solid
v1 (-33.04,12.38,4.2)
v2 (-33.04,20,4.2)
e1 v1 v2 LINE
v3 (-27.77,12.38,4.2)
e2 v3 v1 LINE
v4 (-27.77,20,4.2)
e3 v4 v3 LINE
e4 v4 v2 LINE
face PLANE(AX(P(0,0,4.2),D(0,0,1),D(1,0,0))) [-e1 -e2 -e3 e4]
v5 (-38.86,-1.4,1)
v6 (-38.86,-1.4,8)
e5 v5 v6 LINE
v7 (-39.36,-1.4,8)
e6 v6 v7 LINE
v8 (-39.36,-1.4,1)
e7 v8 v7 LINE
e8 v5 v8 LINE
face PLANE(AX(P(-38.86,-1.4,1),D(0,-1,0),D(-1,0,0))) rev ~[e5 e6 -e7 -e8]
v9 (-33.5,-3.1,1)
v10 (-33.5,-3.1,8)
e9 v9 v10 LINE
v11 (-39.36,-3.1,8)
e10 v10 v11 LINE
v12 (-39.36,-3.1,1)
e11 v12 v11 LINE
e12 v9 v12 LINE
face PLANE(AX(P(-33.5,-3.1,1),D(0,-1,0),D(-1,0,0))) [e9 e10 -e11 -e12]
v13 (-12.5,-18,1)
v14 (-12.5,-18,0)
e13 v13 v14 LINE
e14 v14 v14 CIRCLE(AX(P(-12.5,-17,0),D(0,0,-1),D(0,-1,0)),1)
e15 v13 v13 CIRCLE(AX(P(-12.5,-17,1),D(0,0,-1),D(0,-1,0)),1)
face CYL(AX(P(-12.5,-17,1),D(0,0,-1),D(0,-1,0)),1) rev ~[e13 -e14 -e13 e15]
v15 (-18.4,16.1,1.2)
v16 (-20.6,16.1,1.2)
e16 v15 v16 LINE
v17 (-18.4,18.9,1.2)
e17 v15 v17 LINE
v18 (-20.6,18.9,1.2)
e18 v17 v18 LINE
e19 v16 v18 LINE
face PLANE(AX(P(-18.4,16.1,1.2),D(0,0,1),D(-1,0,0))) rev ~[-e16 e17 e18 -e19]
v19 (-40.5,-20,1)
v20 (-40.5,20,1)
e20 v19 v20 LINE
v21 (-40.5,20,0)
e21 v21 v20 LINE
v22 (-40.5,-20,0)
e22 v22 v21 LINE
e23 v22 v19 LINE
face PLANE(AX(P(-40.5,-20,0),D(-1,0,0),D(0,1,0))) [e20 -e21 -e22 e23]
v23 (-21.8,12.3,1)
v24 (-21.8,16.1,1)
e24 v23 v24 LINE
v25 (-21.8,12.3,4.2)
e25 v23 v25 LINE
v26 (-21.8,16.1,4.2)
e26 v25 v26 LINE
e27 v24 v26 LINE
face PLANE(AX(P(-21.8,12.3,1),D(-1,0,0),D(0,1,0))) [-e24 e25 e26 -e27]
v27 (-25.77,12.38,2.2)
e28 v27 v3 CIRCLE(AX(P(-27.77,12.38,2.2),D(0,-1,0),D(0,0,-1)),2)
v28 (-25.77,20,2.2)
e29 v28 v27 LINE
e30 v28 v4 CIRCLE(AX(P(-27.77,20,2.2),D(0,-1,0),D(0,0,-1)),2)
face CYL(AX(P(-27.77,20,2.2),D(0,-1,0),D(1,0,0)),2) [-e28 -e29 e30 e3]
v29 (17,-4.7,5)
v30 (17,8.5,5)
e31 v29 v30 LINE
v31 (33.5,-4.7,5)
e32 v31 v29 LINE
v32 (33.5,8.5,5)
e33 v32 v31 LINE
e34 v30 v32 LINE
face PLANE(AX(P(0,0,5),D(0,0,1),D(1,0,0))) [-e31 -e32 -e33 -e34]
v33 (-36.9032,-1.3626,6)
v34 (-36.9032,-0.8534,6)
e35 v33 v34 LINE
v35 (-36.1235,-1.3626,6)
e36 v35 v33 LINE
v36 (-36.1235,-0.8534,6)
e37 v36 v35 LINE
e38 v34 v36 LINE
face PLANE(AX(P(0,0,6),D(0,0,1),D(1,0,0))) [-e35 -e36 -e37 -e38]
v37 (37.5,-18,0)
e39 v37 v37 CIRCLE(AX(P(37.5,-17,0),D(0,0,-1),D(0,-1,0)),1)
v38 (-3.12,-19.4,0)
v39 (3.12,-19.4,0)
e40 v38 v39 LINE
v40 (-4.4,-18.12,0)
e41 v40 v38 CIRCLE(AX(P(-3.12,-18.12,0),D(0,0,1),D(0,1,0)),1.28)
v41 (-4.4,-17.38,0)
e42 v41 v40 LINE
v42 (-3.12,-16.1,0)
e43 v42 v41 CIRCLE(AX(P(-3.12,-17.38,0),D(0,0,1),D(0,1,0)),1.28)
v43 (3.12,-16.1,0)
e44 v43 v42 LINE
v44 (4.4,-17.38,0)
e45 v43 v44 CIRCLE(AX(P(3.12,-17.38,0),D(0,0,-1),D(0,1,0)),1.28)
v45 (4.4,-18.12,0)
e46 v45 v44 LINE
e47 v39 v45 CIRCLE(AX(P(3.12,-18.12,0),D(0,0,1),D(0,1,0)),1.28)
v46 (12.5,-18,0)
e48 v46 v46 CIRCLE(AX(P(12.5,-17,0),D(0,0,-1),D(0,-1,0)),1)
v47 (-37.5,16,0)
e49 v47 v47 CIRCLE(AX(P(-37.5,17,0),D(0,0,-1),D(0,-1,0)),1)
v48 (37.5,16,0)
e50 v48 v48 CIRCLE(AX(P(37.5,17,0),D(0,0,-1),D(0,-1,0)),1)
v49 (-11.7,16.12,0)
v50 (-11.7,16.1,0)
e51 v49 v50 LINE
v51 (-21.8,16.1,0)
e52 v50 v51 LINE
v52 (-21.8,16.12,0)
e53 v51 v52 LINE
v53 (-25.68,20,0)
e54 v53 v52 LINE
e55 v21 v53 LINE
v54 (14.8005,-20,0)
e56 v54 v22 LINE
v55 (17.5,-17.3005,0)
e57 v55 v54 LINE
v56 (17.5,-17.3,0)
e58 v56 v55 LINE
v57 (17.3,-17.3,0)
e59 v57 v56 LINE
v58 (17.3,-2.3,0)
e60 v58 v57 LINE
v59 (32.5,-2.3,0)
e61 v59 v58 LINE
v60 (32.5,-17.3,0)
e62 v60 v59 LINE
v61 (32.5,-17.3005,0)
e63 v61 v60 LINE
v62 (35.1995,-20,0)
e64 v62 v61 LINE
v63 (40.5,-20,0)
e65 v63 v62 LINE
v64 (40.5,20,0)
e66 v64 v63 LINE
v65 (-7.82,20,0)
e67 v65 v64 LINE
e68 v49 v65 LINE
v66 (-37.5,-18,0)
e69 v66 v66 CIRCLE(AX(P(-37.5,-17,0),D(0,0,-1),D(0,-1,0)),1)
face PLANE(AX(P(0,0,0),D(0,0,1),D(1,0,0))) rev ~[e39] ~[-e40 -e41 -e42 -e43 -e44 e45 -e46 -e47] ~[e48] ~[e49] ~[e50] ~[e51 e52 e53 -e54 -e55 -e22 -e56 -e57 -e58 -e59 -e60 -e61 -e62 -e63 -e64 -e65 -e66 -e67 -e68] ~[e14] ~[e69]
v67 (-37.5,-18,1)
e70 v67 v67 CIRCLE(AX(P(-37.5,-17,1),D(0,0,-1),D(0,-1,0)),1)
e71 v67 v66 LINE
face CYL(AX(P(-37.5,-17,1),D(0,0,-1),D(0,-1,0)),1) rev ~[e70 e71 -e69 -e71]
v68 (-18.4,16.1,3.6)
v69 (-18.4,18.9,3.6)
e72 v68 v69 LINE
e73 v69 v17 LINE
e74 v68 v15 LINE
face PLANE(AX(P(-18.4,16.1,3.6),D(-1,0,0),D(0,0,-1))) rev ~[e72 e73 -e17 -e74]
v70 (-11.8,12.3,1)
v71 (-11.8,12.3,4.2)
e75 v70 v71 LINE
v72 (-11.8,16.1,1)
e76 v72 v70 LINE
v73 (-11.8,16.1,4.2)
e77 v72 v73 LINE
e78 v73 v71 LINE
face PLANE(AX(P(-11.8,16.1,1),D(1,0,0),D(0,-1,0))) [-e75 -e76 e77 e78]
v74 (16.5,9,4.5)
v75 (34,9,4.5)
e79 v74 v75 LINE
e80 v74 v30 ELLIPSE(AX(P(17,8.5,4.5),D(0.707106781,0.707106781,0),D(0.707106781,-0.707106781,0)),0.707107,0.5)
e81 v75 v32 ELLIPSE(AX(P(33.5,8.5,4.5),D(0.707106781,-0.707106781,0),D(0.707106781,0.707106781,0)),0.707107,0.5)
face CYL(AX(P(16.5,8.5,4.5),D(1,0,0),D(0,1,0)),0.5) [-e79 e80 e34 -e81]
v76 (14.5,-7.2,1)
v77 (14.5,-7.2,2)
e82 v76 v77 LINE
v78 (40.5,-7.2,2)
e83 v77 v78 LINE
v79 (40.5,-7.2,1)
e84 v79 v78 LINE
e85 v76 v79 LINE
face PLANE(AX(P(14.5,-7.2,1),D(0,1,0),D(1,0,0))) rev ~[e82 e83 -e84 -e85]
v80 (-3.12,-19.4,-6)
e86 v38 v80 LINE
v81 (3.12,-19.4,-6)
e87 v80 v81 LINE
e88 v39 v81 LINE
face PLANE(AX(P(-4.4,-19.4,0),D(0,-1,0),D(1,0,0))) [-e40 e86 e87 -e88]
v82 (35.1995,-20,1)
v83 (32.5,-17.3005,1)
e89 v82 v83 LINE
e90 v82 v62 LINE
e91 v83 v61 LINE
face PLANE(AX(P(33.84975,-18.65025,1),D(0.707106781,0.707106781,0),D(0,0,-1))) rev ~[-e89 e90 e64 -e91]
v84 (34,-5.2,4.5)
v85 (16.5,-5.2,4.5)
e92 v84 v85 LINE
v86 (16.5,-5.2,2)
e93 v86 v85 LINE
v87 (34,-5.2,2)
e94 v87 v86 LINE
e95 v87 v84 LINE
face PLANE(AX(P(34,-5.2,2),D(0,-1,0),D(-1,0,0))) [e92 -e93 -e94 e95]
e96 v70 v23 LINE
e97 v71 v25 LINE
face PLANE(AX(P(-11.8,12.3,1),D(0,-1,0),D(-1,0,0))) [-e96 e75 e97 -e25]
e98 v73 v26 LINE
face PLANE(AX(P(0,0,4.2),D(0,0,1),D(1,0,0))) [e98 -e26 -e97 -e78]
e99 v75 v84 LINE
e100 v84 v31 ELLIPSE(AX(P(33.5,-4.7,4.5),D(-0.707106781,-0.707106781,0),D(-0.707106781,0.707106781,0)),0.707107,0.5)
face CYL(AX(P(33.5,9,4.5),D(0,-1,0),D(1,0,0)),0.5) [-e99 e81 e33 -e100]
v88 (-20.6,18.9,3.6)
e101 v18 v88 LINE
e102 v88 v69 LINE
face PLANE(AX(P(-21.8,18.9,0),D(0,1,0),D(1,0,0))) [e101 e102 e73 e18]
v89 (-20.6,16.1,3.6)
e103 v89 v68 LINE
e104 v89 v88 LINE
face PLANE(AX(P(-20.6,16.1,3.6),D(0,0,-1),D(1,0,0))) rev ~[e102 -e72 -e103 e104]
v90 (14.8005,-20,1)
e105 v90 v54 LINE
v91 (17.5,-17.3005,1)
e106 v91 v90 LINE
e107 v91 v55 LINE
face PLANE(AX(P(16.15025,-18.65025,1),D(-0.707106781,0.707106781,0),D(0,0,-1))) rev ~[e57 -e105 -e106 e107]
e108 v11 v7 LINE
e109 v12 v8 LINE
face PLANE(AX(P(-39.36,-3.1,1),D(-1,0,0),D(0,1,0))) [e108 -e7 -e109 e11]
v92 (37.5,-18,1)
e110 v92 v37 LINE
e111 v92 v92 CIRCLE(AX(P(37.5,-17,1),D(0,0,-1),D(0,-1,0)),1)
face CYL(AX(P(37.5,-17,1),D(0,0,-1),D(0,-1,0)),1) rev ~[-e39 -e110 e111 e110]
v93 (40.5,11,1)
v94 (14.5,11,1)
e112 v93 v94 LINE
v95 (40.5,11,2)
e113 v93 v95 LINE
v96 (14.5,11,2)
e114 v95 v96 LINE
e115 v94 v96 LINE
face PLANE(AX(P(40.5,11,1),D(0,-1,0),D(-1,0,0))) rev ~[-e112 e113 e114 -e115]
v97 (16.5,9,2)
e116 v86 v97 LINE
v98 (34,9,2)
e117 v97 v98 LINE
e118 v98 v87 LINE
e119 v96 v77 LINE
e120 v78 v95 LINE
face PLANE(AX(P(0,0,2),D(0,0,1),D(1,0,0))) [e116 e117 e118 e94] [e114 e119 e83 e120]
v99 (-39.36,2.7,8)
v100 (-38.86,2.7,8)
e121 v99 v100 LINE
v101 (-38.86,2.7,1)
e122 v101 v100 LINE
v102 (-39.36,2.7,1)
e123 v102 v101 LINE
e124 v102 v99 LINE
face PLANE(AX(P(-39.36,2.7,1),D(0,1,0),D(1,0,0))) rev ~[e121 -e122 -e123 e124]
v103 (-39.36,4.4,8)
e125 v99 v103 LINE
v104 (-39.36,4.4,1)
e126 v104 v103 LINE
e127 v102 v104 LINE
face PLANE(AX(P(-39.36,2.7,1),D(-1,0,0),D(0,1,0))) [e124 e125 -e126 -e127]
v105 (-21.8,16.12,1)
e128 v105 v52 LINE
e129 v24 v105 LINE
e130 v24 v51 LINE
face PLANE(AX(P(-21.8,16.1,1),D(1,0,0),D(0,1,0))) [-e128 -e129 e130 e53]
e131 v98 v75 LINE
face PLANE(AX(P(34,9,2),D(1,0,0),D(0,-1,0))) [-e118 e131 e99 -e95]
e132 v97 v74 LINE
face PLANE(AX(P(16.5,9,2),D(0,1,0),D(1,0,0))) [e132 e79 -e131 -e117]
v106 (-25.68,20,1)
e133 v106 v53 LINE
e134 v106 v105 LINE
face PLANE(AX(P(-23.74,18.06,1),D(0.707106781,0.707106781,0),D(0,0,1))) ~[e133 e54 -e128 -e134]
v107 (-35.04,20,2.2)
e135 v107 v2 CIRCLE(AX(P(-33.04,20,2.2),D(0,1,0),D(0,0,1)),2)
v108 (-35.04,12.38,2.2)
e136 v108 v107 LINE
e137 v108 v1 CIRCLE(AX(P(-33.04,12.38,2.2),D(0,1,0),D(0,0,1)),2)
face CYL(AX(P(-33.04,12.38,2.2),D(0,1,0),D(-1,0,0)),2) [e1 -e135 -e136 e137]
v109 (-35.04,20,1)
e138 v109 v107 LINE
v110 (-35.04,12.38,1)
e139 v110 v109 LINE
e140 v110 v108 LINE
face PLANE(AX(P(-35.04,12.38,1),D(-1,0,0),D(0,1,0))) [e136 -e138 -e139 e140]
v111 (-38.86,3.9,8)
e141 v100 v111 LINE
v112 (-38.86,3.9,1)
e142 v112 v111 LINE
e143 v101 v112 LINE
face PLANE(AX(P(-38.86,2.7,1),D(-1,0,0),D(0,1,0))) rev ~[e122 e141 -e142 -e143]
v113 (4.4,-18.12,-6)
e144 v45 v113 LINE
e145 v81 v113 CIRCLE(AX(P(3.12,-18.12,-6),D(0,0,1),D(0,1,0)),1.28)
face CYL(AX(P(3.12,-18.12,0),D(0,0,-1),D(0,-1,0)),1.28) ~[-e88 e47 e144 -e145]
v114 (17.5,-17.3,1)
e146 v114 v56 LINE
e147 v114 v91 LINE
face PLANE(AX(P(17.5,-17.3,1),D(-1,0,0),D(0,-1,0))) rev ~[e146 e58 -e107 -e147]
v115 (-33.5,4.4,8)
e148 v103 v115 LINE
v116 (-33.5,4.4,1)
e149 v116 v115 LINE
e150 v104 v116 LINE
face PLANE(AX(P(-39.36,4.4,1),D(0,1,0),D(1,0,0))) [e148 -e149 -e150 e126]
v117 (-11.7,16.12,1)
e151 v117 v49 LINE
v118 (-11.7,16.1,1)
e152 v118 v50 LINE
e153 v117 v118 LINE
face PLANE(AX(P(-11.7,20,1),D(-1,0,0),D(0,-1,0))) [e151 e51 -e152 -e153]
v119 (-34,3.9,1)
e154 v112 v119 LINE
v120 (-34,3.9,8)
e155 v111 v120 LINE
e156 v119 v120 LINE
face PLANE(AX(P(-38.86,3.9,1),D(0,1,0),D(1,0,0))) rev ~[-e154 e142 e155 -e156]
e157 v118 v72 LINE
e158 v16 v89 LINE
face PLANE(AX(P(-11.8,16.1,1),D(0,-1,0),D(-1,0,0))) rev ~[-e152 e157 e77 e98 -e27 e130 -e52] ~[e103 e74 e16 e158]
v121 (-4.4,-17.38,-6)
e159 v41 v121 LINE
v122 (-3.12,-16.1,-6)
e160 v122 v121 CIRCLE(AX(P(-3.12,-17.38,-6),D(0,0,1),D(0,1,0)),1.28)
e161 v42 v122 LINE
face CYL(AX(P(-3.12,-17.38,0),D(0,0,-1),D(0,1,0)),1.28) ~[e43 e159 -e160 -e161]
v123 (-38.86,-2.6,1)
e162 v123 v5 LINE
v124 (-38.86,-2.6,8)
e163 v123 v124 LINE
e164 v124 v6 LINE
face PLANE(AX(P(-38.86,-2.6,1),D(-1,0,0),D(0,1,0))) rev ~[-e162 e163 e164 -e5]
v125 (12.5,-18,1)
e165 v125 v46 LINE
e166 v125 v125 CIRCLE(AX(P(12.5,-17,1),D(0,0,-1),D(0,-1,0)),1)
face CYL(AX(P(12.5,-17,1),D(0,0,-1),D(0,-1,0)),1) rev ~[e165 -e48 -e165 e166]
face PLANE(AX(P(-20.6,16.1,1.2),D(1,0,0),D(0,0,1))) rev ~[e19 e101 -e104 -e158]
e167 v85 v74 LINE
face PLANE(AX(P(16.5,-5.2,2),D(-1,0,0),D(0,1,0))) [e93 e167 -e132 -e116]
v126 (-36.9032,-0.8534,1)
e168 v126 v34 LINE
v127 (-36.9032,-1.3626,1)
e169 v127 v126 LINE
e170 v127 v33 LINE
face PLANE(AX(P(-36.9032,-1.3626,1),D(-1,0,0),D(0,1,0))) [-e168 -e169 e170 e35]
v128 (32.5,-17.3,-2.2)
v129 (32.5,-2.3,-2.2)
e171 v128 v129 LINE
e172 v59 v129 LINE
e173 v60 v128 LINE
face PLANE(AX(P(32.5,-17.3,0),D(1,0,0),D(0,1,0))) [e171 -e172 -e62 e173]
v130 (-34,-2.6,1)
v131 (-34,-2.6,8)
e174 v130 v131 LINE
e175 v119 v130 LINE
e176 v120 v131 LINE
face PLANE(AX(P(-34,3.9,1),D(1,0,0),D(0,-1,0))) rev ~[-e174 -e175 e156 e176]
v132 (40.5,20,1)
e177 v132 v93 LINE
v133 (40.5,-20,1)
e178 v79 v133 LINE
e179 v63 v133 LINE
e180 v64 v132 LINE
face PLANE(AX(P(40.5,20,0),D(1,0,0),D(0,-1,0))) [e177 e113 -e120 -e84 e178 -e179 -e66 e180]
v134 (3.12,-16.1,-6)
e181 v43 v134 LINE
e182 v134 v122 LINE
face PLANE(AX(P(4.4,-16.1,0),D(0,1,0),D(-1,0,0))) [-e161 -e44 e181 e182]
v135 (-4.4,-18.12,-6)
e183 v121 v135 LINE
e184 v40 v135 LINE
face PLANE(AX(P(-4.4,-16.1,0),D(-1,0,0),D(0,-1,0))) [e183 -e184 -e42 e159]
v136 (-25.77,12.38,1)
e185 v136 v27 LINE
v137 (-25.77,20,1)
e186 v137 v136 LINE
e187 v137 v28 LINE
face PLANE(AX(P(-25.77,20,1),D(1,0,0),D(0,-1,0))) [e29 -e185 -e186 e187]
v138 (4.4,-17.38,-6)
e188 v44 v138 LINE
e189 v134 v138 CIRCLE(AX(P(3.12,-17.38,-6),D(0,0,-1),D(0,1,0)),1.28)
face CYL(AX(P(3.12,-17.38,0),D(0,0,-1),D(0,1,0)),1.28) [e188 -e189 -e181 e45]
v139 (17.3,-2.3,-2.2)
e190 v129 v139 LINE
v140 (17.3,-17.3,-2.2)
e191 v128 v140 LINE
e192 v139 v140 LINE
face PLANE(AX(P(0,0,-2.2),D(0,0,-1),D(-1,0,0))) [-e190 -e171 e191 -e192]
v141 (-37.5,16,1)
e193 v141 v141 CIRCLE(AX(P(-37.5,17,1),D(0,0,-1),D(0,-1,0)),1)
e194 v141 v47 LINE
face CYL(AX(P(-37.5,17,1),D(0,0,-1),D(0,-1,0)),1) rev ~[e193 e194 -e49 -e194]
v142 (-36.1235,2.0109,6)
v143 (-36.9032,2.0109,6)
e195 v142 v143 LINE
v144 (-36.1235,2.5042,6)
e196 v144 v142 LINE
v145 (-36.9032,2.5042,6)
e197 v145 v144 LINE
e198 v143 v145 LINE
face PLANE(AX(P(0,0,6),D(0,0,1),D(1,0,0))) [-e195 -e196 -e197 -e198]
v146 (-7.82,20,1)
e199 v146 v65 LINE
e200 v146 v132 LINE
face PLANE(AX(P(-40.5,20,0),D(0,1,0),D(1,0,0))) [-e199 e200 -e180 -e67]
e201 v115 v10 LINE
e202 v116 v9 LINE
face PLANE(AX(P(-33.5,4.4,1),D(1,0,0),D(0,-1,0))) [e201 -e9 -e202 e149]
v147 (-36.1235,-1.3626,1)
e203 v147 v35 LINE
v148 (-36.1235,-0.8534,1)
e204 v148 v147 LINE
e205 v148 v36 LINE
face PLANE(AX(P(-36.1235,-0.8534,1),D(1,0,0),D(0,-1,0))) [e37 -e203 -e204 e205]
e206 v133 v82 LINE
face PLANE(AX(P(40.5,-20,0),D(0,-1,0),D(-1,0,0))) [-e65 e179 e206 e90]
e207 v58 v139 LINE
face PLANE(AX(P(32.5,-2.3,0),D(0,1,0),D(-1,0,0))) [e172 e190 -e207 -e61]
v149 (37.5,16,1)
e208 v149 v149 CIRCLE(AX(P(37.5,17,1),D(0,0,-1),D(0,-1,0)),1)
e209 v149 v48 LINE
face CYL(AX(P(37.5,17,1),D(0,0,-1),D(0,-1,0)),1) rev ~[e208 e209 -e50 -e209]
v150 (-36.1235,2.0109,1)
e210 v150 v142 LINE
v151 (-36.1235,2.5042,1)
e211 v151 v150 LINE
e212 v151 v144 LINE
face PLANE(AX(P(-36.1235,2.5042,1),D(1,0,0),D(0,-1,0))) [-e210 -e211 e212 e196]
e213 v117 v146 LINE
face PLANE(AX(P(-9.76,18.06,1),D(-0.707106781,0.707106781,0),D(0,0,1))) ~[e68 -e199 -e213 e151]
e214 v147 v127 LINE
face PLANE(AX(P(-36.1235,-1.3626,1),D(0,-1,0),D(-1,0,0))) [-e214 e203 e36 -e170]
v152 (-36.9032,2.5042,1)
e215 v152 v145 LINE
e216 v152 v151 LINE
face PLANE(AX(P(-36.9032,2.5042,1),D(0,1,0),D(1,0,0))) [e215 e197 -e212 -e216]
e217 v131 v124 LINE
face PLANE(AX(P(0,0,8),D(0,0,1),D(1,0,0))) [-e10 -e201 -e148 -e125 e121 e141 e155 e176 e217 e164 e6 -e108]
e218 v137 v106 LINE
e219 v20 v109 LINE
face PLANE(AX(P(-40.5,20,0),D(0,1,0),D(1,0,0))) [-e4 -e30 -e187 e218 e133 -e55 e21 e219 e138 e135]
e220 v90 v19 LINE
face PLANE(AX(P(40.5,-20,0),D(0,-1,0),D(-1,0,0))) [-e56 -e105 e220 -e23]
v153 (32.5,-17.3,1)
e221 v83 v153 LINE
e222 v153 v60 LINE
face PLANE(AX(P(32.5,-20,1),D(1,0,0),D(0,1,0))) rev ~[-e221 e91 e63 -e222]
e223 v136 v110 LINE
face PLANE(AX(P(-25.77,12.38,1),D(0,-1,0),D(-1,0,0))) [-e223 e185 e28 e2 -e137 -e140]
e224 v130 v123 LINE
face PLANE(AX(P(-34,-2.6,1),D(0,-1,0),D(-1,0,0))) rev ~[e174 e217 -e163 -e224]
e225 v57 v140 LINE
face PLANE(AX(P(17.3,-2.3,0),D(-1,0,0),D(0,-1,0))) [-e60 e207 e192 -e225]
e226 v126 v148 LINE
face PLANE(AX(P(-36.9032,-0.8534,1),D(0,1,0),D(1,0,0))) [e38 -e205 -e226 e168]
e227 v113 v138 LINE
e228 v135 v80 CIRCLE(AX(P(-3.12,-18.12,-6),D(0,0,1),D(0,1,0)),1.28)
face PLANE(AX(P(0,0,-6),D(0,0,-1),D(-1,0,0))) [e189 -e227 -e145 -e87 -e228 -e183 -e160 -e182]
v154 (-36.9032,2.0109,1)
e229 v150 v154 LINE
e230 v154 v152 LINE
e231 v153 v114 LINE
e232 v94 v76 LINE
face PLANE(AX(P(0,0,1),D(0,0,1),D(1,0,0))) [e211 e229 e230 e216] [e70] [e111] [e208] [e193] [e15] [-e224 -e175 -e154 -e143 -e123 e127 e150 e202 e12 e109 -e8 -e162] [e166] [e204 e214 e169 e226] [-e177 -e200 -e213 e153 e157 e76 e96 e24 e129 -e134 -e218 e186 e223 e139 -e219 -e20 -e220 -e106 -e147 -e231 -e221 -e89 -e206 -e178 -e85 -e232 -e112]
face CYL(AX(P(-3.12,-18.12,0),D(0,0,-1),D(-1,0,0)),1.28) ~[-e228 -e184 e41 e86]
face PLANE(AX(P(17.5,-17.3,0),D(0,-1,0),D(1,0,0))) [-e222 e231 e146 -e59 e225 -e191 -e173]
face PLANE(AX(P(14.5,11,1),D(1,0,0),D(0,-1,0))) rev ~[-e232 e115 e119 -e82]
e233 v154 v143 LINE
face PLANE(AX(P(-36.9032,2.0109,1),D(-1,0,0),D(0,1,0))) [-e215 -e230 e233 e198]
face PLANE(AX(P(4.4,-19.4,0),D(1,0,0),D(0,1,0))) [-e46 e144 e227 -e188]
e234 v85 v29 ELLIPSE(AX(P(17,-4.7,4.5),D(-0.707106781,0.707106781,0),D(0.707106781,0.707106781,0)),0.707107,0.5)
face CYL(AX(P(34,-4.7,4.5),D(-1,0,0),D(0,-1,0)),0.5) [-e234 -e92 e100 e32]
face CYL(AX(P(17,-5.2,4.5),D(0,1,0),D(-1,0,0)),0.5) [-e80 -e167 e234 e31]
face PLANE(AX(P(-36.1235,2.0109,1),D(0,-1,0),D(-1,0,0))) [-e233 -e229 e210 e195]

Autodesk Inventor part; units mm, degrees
ref_plane "YZ Plane" through (0, 0, 0) normal (1, 0, 0) x (0, 1, 0)
ref_plane "XZ Plane" through (0, 0, 0) normal (0, 1, 0) x (-1, 0, 0)
ref_plane "XY Plane" through (0, 0, 0) normal (0, 0, 1) x (1, 0, 0)
sketch "Sketch1" plane through (0, 0, 0) normal (0, 0, 1) x (1, 0, 0)
  line L0 (-40.5, 20) -> (40.5, 20)
  line L1 (40.5, 20) -> (40.5, -20)
  line L2 (40.5, -20) -> (-40.5, -20)
  line L3 (-40.5, -20) -> (-40.5, 20)
  point P0 (0, 0)
  dimension "d0" = 81
  dimension "d1" = 40
  dimension "d2" = 20
  dimension "d3" = 40.5
extrude "Extrusion1" add sketch "Sketch1" along normal blind 1
sketch "Sketch2" plane through (0, 0, 1) normal (0, 0, 1) x (1, 0, 0)
  line L0 (40.5, 20) -> (-40.5, 20) projected
  line L1 (-21.8, 20) -> (-11.7, 20)
  line L2 (-11.7, 20) -> (-11.7, 16.1)
  line L3 (-11.7, 16.1) -> (-21.8, 16.1)
  line L4 (-21.8, 16.1) -> (-21.8, 20)
  line L5 (-40.5, 20) -> (-40.5, -20) projected
  point P0 (0, 0)
  dimension "d6" = 18.7
  dimension "d7" = 28.8
  dimension "d8" = 3.9
extrude "Extrusion2" cut sketch "Sketch2" against normal blind 1
chamfer "Chamfer1" distance 3.88 angle 45 2 edges at (-21.8, 20, 0.5) (-11.7, 20, 0.5)
sketch "Sketch3" plane through (0, 0, 1) normal (0, 0, 1) x (1, 0, 0)
  line L0 (-25.68, 20) -> (-40.5, 20) projected
  line L1 (-35.04, 20) -> (-25.77, 20)
  line L2 (-25.77, 20) -> (-25.77, 12.38)
  line L3 (-25.77, 12.38) -> (-35.04, 12.38)
  line L4 (-35.04, 12.38) -> (-35.04, 20)
  line L5 (-40.5, 20) -> (-40.5, -20) projected
  point P0 (0, 0)
  dimension "d14" = 5.46
  dimension "d15" = 14.73
  dimension "d16" = 7.62
extrude "Extrusion3" add sketch "Sketch3" along normal blind 3.2
fillet "Fillet1" radius 2 2 edges at (-35.04, 16.19, 4.2) (-25.77, 16.19, 4.2)
sketch "Sketch4" plane through (0, 0, 1) normal (0, 0, 1) x (1, 0, 0)
  line L0 (-11.7, 16.1) -> (-21.8, 16.1) projected
  line L1 (-21.8, 16.1) -> (-11.8, 16.1)
  line L2 (-11.8, 16.1) -> (-11.8, 12.3)
  line L3 (-11.8, 12.3) -> (-21.8, 12.3)
  line L4 (-21.8, 12.3) -> (-21.8, 16.1)
  point P0 (0, 0)
  dimension "d20" = 3.8
  dimension "d21" = 10
extrude "Extrusion4" add sketch "Sketch4" along normal blind 3.2
sketch "Sketch5" plane through (-21.8, 16.1, 0) normal (0, 1, 0) x (1, 0, 0)
  line L0 (1.2, -3.6) -> (3.4, -3.6)
  line L1 (3.4, -3.6) -> (3.4, -1.2)
  line L2 (3.4, -1.2) -> (1.2, -1.2)
  line L3 (1.2, -1.2) -> (1.2, -3.6)
  line L4 (10, -4.2) -> (0, -4.2) projected
  line L5 (0, -1) -> (0, -4.2) projected
  point P0 (21.8, 0)
  dimension "d24" = 0.6
  dimension "d25" = 1.2
  dimension "d26" = 2.4
  dimension "d27" = 2.2
extrude "Extrusion5" add sketch "Sketch5" along normal blind 2.8
sketch "Sketch6" plane through (0, 0, 1) normal (0, 0, 1) x (1, 0, 0)
  line L0 (-40.5, 20) -> (-40.5, -20) projected
  line L1 (-40.5, -20) -> (40.5, -20) projected
  point P0 (0, 0)
  point P1 (-37.5, -17)
  point P2 (-12.5, -17)
  point P3 (12.5, -17)
  point P4 (37.5, -17)
  dimension "d30" = 3
  dimension "d31" = 28
  dimension "d32" = 53
  dimension "d33" = 78
  dimension "d34" = 3
  dimension "d35" = 3
  dimension "d36" = 3
  dimension "d37" = 3
hole "Hole1" at (-37.5, -17, 1) at (-12.5, -17, 1) at (12.5, -17, 1) at (37.5, -17, 1) direction (0, 0, -1) diameter 2 depth 4 tip angle 118
sketch "Sketch7" plane through (0, 0, 1) normal (0, 0, 1) x (1, 0, 0)
  line L0 (-40.5, 20) -> (-40.5, -20) projected
  line L1 (-40.5, -20) -> (40.5, -20) projected
  point P0 (0, 0)
  point P1 (-37.5, 17)
  point P2 (37.5, 17)
  dimension "d45" = 3
  dimension "d46" = 37
  dimension "d47" = 78
  dimension "d48" = 37
hole "Hole2" at (-37.5, 17, 1) at (37.5, 17, 1) direction (0, 0, -1) diameter 2 depth 4 tip angle 118
sketch "Sketch8" plane through (0, 0, 1) normal (0, 0, 1) x (1, 0, 0)
  line L0 (-40.5, -20) -> (40.5, -20) projected
  line L1 (17.5, -20) -> (32.5, -20)
  line L2 (32.5, -20) -> (32.5, -17.3)
  line L3 (32.5, -17.3) -> (17.5, -17.3)
  line L4 (17.5, -17.3) -> (17.5, -20)
  line L5 (-40.5, 20) -> (-40.5, -20) projected
  point P0 (0, 0)
  dimension "d56" = 58
  dimension "d57" = 73
  dimension "d58" = 2.7
extrude "Extrusion6" cut sketch "Sketch8" against normal blind 2
chamfer "Chamfer2" distance 2.7 angle 45 2 edges at (17.5, -20, 0.5) (32.5, -20, 0.5)
sketch "Sketch9" plane through (0, 0, 1) normal (0, 0, 1) x (1, 0, 0)
  line L0 (-39.36, 4.4) -> (-33.5, 4.4)
  line L1 (-33.5, 4.4) -> (-33.5, -3.1)
  line L2 (-33.5, -3.1) -> (-39.36, -3.1)
  line L3 (-39.36, -3.1) -> (-39.36, 4.4)
  line L4 (-40.5, 20) -> (-40.5, -20) projected
  line L5 (-40.5, -20) -> (14.8, -20) projected
  line L6 (-38.86, 3.9) -> (-34, 3.9)
  line L7 (-34, 3.9) -> (-34, -2.6)
  line L8 (-34, -2.6) -> (-38.86, -2.6)
  line L9 (-38.86, -2.6) -> (-38.86, 3.9)
  line L10 (-39.36, 2.7) -> (-38.86, 2.7)
  line L11 (-38.86, 2.7) -> (-38.86, -1.4)
  line L12 (-38.86, -1.4) -> (-39.36, -1.4)
  line L13 (-39.36, -1.4) -> (-39.36, 2.7)
  point P0 (0, 0)
  dimension "d64" = 1.14
  dimension "d65" = 7
  dimension "d66" = 16.9
  dimension "d67" = 24.4
  dimension "d68" = 0.5
  dimension "d69" = 0.5
  dimension "d70" = 0.5
  dimension "d71" = 0.5
  dimension "d72" = 1.2
  dimension "d73" = 1.2
extrude "Extrusion7" add sketch "Sketch9" along normal blind 7 contours L0 L1 L2 L3 L12 L9 L8 L7 L6 L10
sketch "Sketch10" plane through (0, 0, 1) normal (0, 0, 1) x (1, 0, 0)
  line L0 (-36.9032, 2.5042) -> (-36.1235, 2.5042)
  line L1 (-36.1235, 2.5042) -> (-36.1235, 2.0109)
  line L2 (-36.1235, 2.0109) -> (-36.9032, 2.0109)
  line L3 (-36.9032, 2.0109) -> (-36.9032, 2.5042)
  line L4 (-36.9032, -0.8534) -> (-36.1235, -0.8534)
  line L5 (-36.1235, -0.8534) -> (-36.1235, -1.3626)
  line L6 (-36.1235, -1.3626) -> (-36.9032, -1.3626)
  line L7 (-36.9032, -1.3626) -> (-36.9032, -0.8534)
  point P0 (0, 0)
extrude "Extrusion8" add sketch "Sketch10" along normal blind 5
sketch "Sketch11" plane through (0, 0, 1) normal (0, 0, 1) x (1, 0, 0)
  line L0 (40.5, -20) -> (40.5, 20) projected
  line L1 (40.5, 11) -> (14.5, 11)
  line L2 (14.5, 11) -> (14.5, -7.2)
  line L3 (14.5, -7.2) -> (40.5, -7.2)
  line L4 (40.5, -7.2) -> (40.5, 11)
  line L5 (-40.5, 20) -> (-40.5, -20) projected
  line L6 (40.5, 20) -> (-7.82, 20) projected
  point P0 (0, 0)
  dimension "d78" = 55
  dimension "d79" = 9
  dimension "d80" = 18.2
extrude "Extrusion9" add sketch "Sketch11" along normal blind 1
sketch "Sketch12" plane through (0, 0, 2) normal (0, 0, 1) x (1, 0, 0)
  line L0 (16.5, 9) -> (34, 9)
  line L1 (34, 9) -> (34, -5.2)
  line L2 (34, -5.2) -> (16.5, -5.2)
  line L3 (16.5, -5.2) -> (16.5, 9)
  line L4 (40.5, 11) -> (14.5, 11) projected
  line L5 (14.5, -7.2) -> (40.5, -7.2) projected
  line L6 (14.5, 11) -> (14.5, -7.2) projected
  line L7 (40.5, -7.2) -> (40.5, 11) projected
  point P0 (0, 0)
  dimension "d83" = 2
  dimension "d84" = 2
  dimension "d85" = 2
  dimension "d86" = 6.5
extrude "Extrusion10" add sketch "Sketch12" along normal blind 3 contours L0 L1 L2 L3
fillet "Fillet2" radius 0.5 4 edges at (25.25, 9, 5) (16.5, 1.9, 5) (25.25, -5.2, 5) (34, 1.9, 5)
sketch "Sketch13" plane through (0, 0, 0) normal (0, 0, -1) x (-1, 0, 0)
  line L0 (-4.4, -16.1) -> (4.4, -16.1)
  line L1 (4.4, -16.1) -> (4.4, -19.4)
  line L2 (4.4, -19.4) -> (-4.4, -19.4)
  line L3 (-4.4, -19.4) -> (-4.4, -16.1)
  line L4 (40.5, 20) -> (40.5, -20) projected
  line L5 (40.5, -20) -> (-14.8, -20) projected
  point P0 (0, 0)
  dimension "d90" = 36.1
  dimension "d91" = 44.9
  dimension "d92" = 0.6
  dimension "d93" = 3.9
extrude "Extrusion11" add sketch "Sketch13" along normal blind 6
fillet "Fillet3" radius 1.28 4 edges at (4.4, -16.1, -3) (4.4, -19.4, -3) (-4.4, -16.1, -3) (-4.4, -19.4, -3)
sketch "Sketch14" plane through (0, 0, 0) normal (0, 0, -1) x (-1, 0, 0)
  line L0 (-32.5, -2.3) -> (-17.3, -2.3)
  line L1 (-17.3, -2.3) -> (-17.3, -17.3)
  line L2 (-17.3, -17.3) -> (-32.5, -17.3)
  line L3 (-32.5, -17.3) -> (-32.5, -2.3)
  line L4 (40.5, 20) -> (40.5, -20) projected
  line L5 (-32.5, -17.3) -> (-17.5, -17.3) projected
  point P0 (0, 0)
  dimension "d97" = 57.8
  dimension "d98" = 73
  dimension "d99" = 15
extrude "Extrusion12" add sketch "Sketch14" along normal blind 2.2
properties part number "mcu-unit"
